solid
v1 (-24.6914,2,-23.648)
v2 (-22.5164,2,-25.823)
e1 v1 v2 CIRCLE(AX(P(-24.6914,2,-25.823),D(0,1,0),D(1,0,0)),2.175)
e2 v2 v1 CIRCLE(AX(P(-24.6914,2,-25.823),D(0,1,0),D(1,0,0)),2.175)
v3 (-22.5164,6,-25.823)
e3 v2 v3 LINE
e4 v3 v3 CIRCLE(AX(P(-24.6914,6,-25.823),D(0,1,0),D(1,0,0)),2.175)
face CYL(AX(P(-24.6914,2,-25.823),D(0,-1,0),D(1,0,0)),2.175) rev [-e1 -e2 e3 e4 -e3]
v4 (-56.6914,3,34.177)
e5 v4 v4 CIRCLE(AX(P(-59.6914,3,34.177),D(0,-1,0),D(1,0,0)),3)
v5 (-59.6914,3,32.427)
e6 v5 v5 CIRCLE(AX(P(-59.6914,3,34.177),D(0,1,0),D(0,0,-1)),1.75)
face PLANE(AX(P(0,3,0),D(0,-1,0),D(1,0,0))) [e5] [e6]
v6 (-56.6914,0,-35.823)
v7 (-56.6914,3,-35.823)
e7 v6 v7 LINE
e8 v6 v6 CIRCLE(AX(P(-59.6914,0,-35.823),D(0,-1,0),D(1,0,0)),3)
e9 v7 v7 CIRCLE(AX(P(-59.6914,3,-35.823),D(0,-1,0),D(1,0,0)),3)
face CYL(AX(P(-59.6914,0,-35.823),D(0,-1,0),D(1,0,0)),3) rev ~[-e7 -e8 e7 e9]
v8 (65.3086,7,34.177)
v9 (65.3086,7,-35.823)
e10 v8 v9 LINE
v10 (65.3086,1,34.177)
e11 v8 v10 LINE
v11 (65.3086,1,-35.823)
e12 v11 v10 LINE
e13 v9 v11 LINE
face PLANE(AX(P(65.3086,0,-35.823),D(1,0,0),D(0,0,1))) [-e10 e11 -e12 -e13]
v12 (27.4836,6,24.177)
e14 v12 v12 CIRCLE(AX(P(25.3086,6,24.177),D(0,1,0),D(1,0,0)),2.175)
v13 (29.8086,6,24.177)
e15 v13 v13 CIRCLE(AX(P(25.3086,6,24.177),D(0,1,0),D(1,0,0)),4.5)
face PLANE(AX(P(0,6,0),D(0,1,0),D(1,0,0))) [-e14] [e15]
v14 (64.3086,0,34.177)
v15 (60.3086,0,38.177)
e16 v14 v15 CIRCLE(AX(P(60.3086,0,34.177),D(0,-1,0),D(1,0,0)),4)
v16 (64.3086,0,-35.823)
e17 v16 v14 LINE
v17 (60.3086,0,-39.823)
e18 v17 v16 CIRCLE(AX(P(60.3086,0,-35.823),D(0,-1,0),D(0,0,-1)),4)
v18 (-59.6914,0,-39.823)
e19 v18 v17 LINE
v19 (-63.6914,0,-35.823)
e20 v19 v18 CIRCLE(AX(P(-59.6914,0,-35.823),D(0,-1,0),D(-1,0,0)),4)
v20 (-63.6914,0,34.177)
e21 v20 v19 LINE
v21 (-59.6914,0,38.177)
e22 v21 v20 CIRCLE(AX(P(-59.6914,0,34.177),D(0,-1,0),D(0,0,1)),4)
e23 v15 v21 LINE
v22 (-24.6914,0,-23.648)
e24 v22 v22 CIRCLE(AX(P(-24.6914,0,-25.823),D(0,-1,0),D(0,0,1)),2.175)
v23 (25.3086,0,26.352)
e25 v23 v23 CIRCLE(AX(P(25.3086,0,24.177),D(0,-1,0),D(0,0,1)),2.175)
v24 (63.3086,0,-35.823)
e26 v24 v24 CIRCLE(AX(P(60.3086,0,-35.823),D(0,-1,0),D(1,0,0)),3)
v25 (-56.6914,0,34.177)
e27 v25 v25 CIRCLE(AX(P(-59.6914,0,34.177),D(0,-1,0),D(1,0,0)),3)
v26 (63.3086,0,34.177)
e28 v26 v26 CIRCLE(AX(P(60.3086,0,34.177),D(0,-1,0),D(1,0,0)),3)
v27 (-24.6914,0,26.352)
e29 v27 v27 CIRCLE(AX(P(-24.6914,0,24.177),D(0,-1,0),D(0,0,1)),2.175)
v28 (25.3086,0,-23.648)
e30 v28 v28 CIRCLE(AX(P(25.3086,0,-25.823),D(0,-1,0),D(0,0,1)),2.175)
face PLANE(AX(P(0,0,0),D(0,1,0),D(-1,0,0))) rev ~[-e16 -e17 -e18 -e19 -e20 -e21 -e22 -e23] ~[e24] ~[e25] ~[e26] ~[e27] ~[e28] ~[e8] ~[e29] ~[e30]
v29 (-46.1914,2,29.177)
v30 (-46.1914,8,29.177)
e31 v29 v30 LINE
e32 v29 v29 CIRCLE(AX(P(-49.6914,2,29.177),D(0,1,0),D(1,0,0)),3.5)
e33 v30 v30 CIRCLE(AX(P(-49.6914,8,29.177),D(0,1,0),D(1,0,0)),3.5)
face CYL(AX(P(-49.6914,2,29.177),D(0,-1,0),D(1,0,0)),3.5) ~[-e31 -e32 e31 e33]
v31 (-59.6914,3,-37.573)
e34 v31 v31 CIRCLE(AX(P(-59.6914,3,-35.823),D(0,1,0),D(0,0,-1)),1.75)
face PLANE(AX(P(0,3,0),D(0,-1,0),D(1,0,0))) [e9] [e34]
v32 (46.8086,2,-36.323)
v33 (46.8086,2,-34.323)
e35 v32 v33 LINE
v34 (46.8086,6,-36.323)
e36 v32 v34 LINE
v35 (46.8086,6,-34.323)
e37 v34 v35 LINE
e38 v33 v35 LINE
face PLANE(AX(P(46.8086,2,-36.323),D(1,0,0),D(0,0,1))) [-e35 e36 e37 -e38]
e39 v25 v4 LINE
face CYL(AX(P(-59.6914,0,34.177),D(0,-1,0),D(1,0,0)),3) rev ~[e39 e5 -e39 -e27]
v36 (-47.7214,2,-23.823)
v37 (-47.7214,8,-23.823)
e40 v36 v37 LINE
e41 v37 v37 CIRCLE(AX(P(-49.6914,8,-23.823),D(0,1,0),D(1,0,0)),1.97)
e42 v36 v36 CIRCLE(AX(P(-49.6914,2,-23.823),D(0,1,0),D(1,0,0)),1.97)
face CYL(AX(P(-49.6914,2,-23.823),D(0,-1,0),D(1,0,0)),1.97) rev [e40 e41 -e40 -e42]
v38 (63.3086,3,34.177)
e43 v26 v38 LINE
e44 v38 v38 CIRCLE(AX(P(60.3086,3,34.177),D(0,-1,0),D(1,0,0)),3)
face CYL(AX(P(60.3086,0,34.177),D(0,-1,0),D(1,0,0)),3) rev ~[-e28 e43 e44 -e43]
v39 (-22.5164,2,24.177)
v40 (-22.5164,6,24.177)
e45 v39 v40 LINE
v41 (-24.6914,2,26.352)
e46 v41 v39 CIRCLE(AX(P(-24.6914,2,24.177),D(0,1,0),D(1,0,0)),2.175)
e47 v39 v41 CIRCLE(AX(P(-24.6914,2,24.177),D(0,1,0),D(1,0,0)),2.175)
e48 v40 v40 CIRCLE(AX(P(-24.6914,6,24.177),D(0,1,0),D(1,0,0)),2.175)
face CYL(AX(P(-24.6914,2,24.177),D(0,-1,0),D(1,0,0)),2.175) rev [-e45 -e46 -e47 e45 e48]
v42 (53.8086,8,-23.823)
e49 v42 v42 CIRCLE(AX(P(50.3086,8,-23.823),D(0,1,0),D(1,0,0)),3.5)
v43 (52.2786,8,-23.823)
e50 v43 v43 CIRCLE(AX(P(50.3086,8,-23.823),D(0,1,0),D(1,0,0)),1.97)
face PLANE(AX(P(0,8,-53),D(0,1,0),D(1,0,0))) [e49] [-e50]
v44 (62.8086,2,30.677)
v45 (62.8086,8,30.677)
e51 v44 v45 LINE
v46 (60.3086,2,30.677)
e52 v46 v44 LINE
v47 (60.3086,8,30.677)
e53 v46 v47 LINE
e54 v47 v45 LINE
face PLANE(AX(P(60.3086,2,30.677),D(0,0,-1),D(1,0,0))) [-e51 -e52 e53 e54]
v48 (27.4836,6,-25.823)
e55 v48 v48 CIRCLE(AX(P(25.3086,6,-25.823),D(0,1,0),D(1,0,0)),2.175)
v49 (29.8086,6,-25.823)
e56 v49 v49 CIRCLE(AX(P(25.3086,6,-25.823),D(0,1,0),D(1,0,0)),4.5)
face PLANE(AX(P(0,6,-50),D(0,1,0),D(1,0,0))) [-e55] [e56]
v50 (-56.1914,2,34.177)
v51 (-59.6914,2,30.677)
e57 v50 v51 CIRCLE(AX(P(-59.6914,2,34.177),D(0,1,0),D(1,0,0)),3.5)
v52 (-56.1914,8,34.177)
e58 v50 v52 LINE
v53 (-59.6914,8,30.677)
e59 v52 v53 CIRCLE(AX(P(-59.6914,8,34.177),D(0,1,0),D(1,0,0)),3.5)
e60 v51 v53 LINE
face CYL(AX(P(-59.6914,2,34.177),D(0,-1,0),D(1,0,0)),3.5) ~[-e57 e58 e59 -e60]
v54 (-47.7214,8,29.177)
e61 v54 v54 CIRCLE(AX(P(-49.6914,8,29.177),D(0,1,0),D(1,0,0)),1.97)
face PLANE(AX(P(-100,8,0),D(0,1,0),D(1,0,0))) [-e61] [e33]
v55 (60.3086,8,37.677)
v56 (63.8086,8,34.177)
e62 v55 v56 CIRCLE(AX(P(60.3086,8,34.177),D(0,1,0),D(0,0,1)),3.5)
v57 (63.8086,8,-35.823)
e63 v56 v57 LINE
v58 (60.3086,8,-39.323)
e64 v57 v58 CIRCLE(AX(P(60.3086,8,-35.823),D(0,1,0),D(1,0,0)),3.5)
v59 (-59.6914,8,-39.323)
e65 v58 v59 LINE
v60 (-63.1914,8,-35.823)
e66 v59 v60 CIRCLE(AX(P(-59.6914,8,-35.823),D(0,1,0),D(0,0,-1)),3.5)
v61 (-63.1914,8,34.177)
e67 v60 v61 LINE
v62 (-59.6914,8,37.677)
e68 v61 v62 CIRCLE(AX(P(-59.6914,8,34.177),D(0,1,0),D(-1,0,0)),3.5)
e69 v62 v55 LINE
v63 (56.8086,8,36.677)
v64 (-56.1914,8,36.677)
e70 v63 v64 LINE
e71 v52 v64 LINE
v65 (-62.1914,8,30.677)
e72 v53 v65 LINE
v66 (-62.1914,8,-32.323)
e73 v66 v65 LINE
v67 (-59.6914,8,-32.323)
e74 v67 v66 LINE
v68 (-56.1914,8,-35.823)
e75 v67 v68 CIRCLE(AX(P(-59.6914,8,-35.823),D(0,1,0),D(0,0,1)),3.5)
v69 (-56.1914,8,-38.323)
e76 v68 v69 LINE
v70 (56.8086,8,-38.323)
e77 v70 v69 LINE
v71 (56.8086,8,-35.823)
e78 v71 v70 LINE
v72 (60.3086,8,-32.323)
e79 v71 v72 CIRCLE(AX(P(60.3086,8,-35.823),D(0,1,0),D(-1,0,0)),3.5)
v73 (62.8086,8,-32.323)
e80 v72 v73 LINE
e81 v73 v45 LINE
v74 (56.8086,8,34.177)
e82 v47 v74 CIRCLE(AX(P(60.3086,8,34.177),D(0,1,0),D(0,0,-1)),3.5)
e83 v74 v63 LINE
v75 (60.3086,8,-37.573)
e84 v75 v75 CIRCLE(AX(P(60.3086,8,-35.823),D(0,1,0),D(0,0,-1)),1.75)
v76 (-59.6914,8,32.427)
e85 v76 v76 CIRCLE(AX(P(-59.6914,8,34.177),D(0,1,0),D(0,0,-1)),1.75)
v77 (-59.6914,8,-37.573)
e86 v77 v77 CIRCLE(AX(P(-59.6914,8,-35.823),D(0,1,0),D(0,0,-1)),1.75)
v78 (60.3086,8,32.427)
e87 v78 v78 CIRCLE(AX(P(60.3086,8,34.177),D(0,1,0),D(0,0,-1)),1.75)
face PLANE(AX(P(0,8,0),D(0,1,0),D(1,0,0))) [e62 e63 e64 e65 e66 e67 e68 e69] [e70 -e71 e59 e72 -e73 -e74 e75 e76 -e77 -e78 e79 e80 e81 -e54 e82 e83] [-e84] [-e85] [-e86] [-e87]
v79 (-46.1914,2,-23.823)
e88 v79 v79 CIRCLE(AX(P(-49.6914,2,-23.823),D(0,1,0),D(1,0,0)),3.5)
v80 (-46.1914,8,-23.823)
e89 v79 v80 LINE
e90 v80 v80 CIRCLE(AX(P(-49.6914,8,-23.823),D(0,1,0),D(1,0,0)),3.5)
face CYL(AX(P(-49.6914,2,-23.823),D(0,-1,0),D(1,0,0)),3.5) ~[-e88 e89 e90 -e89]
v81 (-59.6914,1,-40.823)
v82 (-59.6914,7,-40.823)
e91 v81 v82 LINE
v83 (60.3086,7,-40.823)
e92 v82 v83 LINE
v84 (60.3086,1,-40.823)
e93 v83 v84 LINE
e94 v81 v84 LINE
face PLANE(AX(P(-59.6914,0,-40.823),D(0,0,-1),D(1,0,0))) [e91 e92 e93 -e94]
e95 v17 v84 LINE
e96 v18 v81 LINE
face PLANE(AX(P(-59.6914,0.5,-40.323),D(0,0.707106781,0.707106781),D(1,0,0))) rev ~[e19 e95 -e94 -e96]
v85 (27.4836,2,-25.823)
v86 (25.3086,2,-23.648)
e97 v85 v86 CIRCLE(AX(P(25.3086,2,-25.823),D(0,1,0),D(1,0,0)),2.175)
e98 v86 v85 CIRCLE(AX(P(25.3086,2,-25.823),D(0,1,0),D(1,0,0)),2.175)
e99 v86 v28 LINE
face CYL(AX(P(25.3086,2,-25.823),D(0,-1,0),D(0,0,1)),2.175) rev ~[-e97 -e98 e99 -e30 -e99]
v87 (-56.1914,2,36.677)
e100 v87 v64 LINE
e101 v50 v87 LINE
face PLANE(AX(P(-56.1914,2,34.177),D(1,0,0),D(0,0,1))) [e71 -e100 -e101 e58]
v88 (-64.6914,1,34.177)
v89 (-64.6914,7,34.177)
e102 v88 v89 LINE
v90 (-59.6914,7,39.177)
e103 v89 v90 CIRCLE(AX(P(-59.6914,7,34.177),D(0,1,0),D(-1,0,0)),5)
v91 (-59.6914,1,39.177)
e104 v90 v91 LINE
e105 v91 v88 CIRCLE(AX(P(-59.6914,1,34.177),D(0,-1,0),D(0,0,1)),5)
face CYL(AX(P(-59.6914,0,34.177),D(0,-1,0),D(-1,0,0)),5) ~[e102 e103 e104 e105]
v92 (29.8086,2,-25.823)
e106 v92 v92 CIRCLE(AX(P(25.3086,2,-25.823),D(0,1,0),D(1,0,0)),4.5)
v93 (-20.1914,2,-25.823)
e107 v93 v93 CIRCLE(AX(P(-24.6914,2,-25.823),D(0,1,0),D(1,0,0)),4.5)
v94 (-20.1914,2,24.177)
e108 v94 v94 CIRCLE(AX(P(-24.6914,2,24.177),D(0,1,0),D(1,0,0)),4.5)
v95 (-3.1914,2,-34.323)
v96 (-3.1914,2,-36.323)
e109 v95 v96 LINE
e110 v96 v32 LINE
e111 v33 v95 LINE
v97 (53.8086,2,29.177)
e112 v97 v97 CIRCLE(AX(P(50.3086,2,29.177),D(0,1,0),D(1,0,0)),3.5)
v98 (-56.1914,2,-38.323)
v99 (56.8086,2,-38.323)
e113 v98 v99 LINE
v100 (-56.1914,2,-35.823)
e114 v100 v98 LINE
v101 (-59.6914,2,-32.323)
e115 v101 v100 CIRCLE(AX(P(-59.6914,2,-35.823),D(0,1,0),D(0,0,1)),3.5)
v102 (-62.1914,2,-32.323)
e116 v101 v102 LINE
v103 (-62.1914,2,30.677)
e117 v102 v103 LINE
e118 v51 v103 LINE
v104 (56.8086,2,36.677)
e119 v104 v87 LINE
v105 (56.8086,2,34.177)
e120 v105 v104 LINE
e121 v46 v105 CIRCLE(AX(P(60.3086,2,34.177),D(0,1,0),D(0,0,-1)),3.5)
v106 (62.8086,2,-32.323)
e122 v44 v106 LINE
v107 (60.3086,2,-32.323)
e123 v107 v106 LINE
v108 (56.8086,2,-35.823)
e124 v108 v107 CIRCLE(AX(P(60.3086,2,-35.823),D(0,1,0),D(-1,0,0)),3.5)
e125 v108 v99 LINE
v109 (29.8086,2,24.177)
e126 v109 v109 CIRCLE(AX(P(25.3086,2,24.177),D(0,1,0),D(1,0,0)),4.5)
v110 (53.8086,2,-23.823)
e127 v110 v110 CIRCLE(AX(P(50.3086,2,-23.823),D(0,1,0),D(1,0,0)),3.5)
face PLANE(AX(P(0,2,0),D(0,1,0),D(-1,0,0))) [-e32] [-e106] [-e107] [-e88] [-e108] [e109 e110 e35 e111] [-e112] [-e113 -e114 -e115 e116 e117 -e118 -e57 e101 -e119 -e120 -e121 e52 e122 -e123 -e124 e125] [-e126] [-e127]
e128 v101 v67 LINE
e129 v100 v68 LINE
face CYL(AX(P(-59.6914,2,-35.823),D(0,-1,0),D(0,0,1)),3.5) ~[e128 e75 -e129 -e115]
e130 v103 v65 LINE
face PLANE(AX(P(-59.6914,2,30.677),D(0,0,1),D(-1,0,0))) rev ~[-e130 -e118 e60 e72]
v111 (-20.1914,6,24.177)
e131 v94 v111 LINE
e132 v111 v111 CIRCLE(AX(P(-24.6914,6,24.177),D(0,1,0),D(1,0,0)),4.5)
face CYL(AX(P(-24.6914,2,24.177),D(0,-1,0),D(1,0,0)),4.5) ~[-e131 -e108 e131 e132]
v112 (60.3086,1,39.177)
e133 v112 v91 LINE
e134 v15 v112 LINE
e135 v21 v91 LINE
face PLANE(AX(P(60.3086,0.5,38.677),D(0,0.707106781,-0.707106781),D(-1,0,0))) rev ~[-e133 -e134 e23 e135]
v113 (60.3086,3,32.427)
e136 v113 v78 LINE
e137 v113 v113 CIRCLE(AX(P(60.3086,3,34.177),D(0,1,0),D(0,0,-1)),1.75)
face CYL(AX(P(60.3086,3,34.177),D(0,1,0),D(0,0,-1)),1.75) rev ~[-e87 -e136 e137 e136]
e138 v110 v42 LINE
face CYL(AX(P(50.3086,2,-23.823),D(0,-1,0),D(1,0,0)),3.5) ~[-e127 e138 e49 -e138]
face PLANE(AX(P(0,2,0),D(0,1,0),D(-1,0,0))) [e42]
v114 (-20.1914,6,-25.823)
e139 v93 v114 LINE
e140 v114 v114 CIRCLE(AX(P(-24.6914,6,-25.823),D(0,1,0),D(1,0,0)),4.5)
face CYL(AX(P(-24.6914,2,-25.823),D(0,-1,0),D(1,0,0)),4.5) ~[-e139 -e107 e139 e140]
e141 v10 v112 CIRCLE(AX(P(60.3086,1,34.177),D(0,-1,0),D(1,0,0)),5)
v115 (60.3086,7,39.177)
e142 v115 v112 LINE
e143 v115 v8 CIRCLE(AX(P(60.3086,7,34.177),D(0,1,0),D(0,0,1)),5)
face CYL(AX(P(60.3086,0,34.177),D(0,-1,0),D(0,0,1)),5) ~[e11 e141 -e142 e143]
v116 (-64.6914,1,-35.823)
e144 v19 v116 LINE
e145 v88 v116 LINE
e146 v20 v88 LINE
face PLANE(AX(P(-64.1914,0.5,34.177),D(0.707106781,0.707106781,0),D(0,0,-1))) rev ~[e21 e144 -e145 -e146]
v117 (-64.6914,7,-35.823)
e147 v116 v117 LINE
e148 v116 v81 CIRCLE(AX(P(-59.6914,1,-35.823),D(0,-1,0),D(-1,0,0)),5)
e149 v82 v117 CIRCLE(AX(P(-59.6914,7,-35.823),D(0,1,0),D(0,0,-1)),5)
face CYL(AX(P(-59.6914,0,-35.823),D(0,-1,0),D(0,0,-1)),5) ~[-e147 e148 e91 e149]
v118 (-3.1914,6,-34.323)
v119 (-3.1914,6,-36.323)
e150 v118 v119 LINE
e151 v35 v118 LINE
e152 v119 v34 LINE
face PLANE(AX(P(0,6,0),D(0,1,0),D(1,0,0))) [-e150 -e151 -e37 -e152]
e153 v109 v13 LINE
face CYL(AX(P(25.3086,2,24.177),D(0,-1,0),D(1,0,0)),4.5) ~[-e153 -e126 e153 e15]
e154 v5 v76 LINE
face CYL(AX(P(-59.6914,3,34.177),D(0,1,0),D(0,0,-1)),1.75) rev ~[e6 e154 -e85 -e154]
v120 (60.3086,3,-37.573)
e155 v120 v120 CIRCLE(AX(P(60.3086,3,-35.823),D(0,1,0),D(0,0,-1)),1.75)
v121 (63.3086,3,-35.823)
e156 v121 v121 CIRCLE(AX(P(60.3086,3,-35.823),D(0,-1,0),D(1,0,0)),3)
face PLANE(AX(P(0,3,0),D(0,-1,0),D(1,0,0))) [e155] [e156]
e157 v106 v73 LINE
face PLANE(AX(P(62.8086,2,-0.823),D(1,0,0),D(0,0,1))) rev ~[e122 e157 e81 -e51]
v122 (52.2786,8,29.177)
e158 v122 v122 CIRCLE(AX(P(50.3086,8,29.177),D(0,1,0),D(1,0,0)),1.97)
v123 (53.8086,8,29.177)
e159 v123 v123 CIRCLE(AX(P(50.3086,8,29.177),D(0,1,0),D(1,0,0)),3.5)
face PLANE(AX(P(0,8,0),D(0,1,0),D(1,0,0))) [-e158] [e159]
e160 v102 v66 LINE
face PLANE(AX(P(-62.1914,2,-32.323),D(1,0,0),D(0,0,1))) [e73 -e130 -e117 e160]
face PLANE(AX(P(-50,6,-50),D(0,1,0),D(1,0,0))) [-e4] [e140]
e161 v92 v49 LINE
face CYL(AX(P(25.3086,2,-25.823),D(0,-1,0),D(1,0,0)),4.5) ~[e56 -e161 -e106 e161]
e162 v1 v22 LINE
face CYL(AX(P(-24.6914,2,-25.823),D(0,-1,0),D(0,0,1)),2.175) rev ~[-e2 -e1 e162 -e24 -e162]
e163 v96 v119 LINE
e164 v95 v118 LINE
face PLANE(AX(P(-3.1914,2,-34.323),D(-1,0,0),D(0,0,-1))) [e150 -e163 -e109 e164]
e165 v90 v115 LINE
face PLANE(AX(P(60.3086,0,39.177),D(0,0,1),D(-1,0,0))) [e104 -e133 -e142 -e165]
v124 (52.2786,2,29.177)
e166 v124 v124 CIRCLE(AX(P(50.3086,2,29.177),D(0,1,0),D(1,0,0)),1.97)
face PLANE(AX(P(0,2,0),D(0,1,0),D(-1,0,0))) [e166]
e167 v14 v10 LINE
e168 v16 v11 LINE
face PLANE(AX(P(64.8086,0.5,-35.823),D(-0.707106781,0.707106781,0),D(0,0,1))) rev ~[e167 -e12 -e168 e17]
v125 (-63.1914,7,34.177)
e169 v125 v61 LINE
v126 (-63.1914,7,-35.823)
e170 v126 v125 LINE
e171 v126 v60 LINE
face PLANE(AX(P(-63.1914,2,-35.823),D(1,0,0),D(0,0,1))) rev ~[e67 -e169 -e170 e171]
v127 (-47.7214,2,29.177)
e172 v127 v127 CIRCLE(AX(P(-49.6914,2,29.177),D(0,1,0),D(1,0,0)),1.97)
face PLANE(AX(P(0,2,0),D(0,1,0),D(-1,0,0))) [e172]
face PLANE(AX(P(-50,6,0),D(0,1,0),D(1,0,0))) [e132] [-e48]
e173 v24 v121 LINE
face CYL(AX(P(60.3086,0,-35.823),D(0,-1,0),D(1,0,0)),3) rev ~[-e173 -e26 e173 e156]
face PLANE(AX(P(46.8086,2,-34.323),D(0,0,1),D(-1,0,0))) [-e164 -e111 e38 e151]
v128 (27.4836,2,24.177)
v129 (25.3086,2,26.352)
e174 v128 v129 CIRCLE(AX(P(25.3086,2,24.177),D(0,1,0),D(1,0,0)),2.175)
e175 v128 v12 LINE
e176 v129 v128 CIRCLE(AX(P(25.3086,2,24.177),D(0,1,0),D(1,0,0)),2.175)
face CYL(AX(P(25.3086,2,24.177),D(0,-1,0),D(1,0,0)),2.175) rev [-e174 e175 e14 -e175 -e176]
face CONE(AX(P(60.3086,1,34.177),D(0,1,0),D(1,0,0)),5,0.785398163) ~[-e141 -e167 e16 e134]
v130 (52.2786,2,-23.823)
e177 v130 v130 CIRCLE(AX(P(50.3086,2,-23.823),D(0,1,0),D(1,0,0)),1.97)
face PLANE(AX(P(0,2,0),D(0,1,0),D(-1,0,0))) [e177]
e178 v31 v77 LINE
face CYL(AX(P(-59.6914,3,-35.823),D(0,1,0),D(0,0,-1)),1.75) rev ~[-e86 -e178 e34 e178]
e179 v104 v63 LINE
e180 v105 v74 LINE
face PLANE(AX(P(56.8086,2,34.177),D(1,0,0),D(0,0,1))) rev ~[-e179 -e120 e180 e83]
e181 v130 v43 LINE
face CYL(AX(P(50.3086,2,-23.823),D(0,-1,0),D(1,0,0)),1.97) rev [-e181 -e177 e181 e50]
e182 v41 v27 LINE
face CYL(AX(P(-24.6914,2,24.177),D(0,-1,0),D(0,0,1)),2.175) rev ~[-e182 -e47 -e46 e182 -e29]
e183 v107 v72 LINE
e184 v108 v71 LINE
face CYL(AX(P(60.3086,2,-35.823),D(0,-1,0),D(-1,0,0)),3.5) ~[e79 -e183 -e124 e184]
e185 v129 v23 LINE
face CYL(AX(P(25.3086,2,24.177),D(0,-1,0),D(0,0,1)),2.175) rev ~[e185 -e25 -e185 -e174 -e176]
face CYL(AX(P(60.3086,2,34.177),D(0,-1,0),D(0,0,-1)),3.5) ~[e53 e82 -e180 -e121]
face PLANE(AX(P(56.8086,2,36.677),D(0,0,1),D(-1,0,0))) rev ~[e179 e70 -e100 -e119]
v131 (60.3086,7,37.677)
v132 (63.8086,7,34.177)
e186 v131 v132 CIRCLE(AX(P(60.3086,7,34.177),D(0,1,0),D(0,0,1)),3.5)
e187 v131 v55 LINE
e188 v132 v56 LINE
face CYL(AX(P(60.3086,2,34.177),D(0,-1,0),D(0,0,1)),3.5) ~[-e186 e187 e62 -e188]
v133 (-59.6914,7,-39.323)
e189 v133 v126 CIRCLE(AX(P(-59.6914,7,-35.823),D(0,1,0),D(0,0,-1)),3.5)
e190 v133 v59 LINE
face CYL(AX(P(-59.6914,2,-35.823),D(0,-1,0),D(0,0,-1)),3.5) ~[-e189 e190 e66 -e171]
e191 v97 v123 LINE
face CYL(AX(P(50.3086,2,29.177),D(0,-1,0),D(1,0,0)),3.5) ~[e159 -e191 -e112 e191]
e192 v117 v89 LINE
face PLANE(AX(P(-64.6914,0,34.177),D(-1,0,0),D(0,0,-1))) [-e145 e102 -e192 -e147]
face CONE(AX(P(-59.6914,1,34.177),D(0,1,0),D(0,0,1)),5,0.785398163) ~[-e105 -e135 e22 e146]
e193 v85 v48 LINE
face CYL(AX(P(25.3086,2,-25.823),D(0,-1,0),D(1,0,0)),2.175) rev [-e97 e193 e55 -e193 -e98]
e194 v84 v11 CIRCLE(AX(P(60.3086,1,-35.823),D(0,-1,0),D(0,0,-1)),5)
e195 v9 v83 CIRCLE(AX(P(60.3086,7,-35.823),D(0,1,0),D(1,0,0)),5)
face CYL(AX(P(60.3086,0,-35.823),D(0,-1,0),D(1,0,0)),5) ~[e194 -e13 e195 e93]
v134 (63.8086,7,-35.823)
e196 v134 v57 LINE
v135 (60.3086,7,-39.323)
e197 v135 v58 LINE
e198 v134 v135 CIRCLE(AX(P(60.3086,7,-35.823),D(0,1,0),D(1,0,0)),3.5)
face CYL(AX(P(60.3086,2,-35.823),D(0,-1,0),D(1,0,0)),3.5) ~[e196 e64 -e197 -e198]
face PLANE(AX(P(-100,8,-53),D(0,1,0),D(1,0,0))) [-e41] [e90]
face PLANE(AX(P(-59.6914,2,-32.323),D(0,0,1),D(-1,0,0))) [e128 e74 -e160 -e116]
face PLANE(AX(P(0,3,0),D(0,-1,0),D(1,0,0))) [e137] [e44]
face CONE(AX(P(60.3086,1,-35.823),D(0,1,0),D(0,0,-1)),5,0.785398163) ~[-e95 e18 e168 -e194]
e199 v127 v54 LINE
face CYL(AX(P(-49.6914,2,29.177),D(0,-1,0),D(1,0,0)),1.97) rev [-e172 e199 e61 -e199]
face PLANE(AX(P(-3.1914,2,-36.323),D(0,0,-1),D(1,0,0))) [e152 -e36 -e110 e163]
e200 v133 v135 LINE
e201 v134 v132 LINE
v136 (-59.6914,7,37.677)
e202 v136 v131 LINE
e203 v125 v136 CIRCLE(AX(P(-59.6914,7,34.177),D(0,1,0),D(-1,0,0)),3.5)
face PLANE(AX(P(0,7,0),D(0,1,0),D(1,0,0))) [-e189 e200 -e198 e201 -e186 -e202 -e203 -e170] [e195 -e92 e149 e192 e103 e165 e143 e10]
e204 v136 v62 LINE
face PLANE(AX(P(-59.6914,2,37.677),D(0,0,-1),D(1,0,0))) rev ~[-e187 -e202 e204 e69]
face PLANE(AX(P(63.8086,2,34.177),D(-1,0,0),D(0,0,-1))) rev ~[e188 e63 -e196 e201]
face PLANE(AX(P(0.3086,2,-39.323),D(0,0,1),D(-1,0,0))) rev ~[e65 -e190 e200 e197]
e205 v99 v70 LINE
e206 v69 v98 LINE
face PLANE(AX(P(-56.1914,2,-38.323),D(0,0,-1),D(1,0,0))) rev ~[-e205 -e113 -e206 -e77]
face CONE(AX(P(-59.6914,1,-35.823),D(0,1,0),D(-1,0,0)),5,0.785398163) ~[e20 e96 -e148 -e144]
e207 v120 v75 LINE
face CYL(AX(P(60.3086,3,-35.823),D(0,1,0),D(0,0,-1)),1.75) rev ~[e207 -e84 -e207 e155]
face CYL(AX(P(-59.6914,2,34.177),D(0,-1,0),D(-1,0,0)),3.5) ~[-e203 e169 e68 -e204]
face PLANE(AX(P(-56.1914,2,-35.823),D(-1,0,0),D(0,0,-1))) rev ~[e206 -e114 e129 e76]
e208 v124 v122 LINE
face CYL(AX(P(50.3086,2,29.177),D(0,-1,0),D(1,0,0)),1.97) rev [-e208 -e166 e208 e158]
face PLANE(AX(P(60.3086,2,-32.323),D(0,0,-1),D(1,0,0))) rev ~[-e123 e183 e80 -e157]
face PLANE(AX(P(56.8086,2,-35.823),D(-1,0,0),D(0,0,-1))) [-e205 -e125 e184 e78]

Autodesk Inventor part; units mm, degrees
ref_plane "YZ Plane" through (0, 0, 0) normal (1, 0, 0) x (0, 1, 0)
ref_plane "XZ Plane" through (0, 0, 0) normal (0, 1, 0) x (-1, 0, 0)
ref_plane "XY Plane" through (0, 0, 0) normal (0, 0, 1) x (1, 0, 0)
sketch "Sketch1" plane through (0, 0, 0) normal (0, 1, 0) x (-1, 0, 0)
  line L0 (59.6914, -40.823) -> (-60.3086, -40.823)
  line L1 (-65.3086, -35.823) -> (-65.3086, 34.177)
  line L2 (-60.3086, 39.177) -> (59.6914, 39.177)
  line L3 (64.6914, 34.177) -> (64.6914, -35.823)
  arc A0 (59.6914, -40.823) -> (64.6914, -35.823) centre (59.6914, -35.823) ccw
  arc A1 (-65.3086, -35.823) -> (-60.3086, -40.823) centre (-60.3086, -35.823) ccw
  arc A2 (64.6914, 34.177) -> (59.6914, 39.177) centre (59.6914, 34.177) ccw
  arc A3 (-60.3086, 39.177) -> (-65.3086, 34.177) centre (-60.3086, 34.177) ccw
  point P0 (0, 0)
  point P1 (64.6914, -40.823)
  point P2 (-65.3086, 39.177)
  point P3 (64.6914, 39.177)
  dimension "d0" = 80
  dimension "d1" = 130
  dimension "d2" = 5
  dimension "d3" = 5
  dimension "d4" = 5
  dimension "d5" = 5
extrude "Extrusion1" add sketch "Sketch1" along normal blind 2
sketch "Sketch2" plane through (0, 2, 0) normal (0, 1, 0) x (1, 0, 0)
  line L0 (-64.6914, 35.823) -> (-64.6914, -34.177) projected
  line L1 (-64.6914, 35.823) -> (-64.6914, -34.177)
  arc A0 (-64.6914, -34.177) -> (-59.6914, -39.177) centre (-59.6914, -34.177) ccw projected
  arc A1 (-64.6914, -34.177) -> (-59.6914, -39.177) centre (-59.6914, -34.177) ccw
  arc A2 (-59.6914, 40.823) -> (-64.6914, 35.823) centre (-59.6914, 35.823) ccw
  arc A3 (65.3086, 35.823) -> (60.3086, 40.823) centre (60.3086, 35.823) ccw projected
  arc A4 (65.3086, 35.823) -> (60.3086, 40.823) centre (60.3086, 35.823) ccw
  line L2 (-62.1914, 35.823) -> (-62.1914, -34.177)
  line L3 (65.3086, -34.177) -> (65.3086, 35.823) projected
  line L4 (65.3086, 35.823) -> (65.3086, -34.177)
  arc A5 (60.3086, -39.177) -> (65.3086, -34.177) centre (60.3086, -34.177) ccw projected
  line L5 (-59.6914, -39.177) -> (60.3086, -39.177) projected
  line L6 (60.3086, -39.177) -> (-59.6914, -39.177)
  line L7 (60.3086, 40.823) -> (-59.6914, 40.823) projected
  line L8 (-59.6914, 40.823) -> (60.3086, 40.823)
  line L9 (62.8086, 35.823) -> (62.8086, -34.177)
  line L10 (60.3086, -36.677) -> (-59.6914, -36.677)
  line L11 (-59.6914, 38.323) -> (60.3086, 38.323)
  arc A6 (-59.6914, 38.323) -> (-62.1914, 35.823) centre (-59.6914, 35.823) ccw
  arc A7 (62.8086, 35.823) -> (60.3086, 38.323) centre (60.3086, 35.823) ccw
  arc A8 (60.3086, -36.677) -> (62.8086, -34.177) centre (60.3086, -34.177) ccw
  arc A9 (-62.1914, -34.177) -> (-59.6914, -36.677) centre (-59.6914, -34.177) ccw
  arc A10 (-59.6914, 39.323) -> (-63.1914, 35.823) centre (-59.6914, 35.823) ccw
  arc A11 (63.8086, 35.823) -> (60.3086, 39.323) centre (60.3086, 35.823) ccw
  arc A12 (60.3086, -37.677) -> (63.8086, -34.177) centre (60.3086, -34.177) ccw
  arc A13 (-63.1914, -34.177) -> (-59.6914, -37.677) centre (-59.6914, -34.177) ccw
  line L12 (-63.1914, 35.823) -> (-63.1914, -34.177)
  line L13 (-59.6914, -37.677) -> (60.3086, -37.677)
  line L14 (63.8086, -34.177) -> (63.8086, 35.823)
  line L15 (60.3086, 39.323) -> (-59.6914, 39.323)
  line L16 (-59.6914, 32.323) -> (-62.1914, 32.323)
  line L17 (-56.1914, 35.823) -> (-56.1914, 38.323)
  arc A14 (-59.6914, 32.323) -> (-56.1914, 35.823) centre (-59.6914, 35.823) ccw
  line L18 (0.3086, 40.823) -> (0.3086, 33.323)
  line L19 (65.3086, 0.823) -> (44.6486, 0.823)
  line L20 (60.3086, 32.323) -> (62.8086, 32.323)
  line L21 (56.8086, 35.823) -> (56.8086, 38.323)
  arc A15 (56.8086, 35.823) -> (60.3086, 32.323) centre (60.3086, 35.823) ccw
  line L22 (-59.6914, -30.677) -> (-62.1914, -30.677)
  line L23 (-56.1914, -34.177) -> (-56.1914, -36.677)
  arc A16 (-56.1914, -34.177) -> (-59.6914, -30.677) centre (-59.6914, -34.177) ccw
  line L24 (56.8086, -34.177) -> (56.8086, -36.677)
  arc A17 (60.3086, -30.677) -> (56.8086, -34.177) centre (60.3086, -34.177) ccw
  line L25 (60.3086, -30.677) -> (62.8086, -30.677)
  point P0 (0, 0)
  point P1 (60.3086, -34.2192)
  point P2 (65.3086, -34.2192)
  point P3 (59.6599, -39.177)
  point P4 (56.8086, 38.323)
  point P5 (62.8086, -30.677)
  point P6 (56.8086, -36.677)
  point P7 (-56.1914, -36.677)
  point P8 (-62.1914, -30.677)
  dimension "d51" = 5
  dimension "d8" = 2.5
  dimension "d9" = 2.5
  dimension "d10" = 2.5
  dimension "d11" = 2.5
  dimension "d12" = 7
  dimension "d13" = 7
  dimension "d14" = 7
  dimension "d15" = 7
  dimension "d34" = 3.5
  dimension "d50" = 2.5
  dimension "d52" = 5
  dimension "d53" = 2.5
extrude "Extrusion2" add sketch "Sketch2" along normal blind 5 contours A2 L7 L18 L15 A10 L12 A13 L13 A12 L14 L19 L3 A5 L5 A0 L0 | L7 A3 L3 L19 L14 A11 L15 L18 | L17 A14 L16 L2 A6 L11 | L11 A7 L9 L20 A15 L21 | L9 A8 L10 L24 A17 L25 | L22 A16 L23 L10 A9 L2
extrude "Extrusion3" add sketch "Sketch2" along normal blind 6 contours L18 L11 A6 L2 A9 L10 A8 L9 L19 L14 A12 L13 A13 L12 A10 L15 | L15 A11 L14 L19 L9 A7 L11 L18 | L17 A14 L16 L2 A6 L11 | L11 A7 L9 L20 A15 L21 | L9 A8 L10 L24 A17 L25 | L22 A16 L23 L10 A9 L2
sketch "Sketch3" plane through (0, 0, 0) normal (0, -1, 0) x (1, 0, 0)
  circle A0 centre (60.3086, 34.177) radius 3
  line L0 (-59.6914, 39.177) -> (60.3086, 39.177) projected
  line L1 (65.3086, 34.177) -> (65.3086, -35.823) projected
  line L2 (65.3086, 24.0261) -> (65.3086, 17.2129)
  line L3 (38.477, 39.177) -> (29.3328, 39.177)
  line L4 (-59.6914, 39.177) -> (60.3086, 39.177) projected
  circle A1 centre (60.3086, -35.823) radius 3
  circle A2 centre (-59.6914, 34.177) radius 3
  circle A3 centre (-59.6914, -35.823) radius 3
  line L5 (-64.6914, -35.823) -> (-64.6914, 34.177) projected
  line L6 (60.3086, -40.823) -> (-59.6914, -40.823) projected
  point P0 (0, 0)
  point P1 (33.602, 39.1426)
  point P2 (55.3086, 34.177)
  point P3 (65.3086, -35.823)
  dimension "d20" = 6
  dimension "d21" = 5
  dimension "d26" = 70
  dimension "d29" = 120
  dimension "d54" = 130
  dimension "d55" = 80
  dimension "d56" = 5
extrude "Extrusion4" cut sketch "Sketch3" against normal blind 3
sketch "Sketch4" plane through (60.3086, 3, -35.823) normal (0, -1, 0) x (1, 0, 0)
  circle A0 centre (0, 0) radius 3 projected
  point P0 (-60.3086, 35.823)
hole "Hole1" at (60.3086, 3, -35.823) direction (0, 1, 0) diameter 3.5 end through all
pattern_linear "Rectangular Pattern1" count 2 spacing 120 along (-1, 0, 0) count 2 spacing 70 along (0, 0, 1) of "Hole1"
sketch "Sketch6" plane through (0, 2, 0) normal (0, 1, 0) x (1, 0, 0)
  circle A0 centre (50.3086, -29.177) radius 3.5
  line L0 (65.3086, -34.177) -> (65.3086, 35.823) projected
  line L1 (-59.6914, -39.177) -> (60.3086, -39.177) projected
  line L2 (65.3086, -34.177) -> (65.3086, 35.823) projected
  line L3 (65.3086, -6.9039) -> (65.3086, -1.4927)
  line L4 (16.8866, -39.177) -> (12.0352, -39.177)
  circle A1 centre (50.3086, -29.177) radius 1.97
  point P0 (0, 0)
  dimension "d57" = 7
  dimension "d58" = 15
  dimension "d59" = 10
  dimension "d60" = 3.94
extrude "Extrusion5" add sketch "Sketch6" along normal blind 6
pattern_linear "Rectangular Pattern2" count 2 spacing 53 along (0, 0, -1) count 2 spacing 100 along (-1, 0, 0) of "Extrusion5"
sketch "Sketch7" plane through (0, 2, 0) normal (0, 1, 0) x (1, 0, 0)
  circle A0 centre (25.3086, -24.177) radius 4.5
  line L0 (-59.6914, -39.177) -> (60.3086, -39.177) projected
  line L1 (65.3086, -34.177) -> (65.3086, 35.823) projected
  circle A1 centre (25.3086, -24.177) radius 2.175
  point P0 (0, 0)
  dimension "d69" = 9
  dimension "d70" = 15
  dimension "d71" = 40
  dimension "d72" = 4.35
extrude "Extrusion6" add sketch "Sketch7" along normal blind 4
sketch "Sketch8" plane through (25.3086, 2, 24.177) normal (0, 1, 0) x (1, 0, 0)
  circle A0 centre (0, 0) radius 2.175 projected
  point P0 (-25.3086, 24.177)
hole "Hole2" at (25.3086, 2, 24.177) direction (0, -1, 0) diameter 4.35 end through all
pattern_linear "Rectangular Pattern4" count 2 spacing 50 along (-1, 0, 0) count 2 spacing 50 along (0, 0, -1) of "Extrusion6", "Hole2"
chamfer "Chamfer1" distance 1 angle 45 8 edges at (0.3086, 0, 39.177) (63.8442, 0, 37.7125) (65.3086, 0, -0.823) (63.8442, 0, -39.3586) (0.3086, 0, -40.823) (-63.2269, 0, -39.3586) (-64.6914, 0, -0.823) (-63.2269, 0, 37.7125)
sketch "Sketch9" plane through (0, 2, 0) normal (0, 1, 0) x (1, 0, 0)
  line L0 (46.8086, 34.323) -> (-3.1914, 34.323)
  line L1 (-3.1914, 34.323) -> (-3.1914, 36.323)
  line L2 (-3.1914, 36.323) -> (46.8086, 36.323)
  line L3 (46.8086, 36.323) -> (46.8086, 34.323)
  line L4 (-56.1914, 38.323) -> (56.8086, 38.323) projected
  line L5 (56.8086, 38.323) -> (56.8086, 35.823) projected
  line L6 (-3.1914, 38.323) -> (46.8086, 38.323)
  line L7 (46.8086, 38.323) -> (46.8086, 37.323)
  line L8 (-3.1914, 37.323) -> (-3.1914, 38.323)
  point P0 (0, 0)
  point P1 (46.8086, 35.323)
  dimension "d97" = 50
  dimension "d98" = 2
  dimension "d99" = 2
  dimension "d100" = 10
  dimension "d103" = 50
extrude "Extrusion7" add sketch "Sketch9" along normal blind 4
equation "\"d3\" = d2"
equation "\"d4\" = d2"
equation "\"d5\" = d2"
equation "\"d9\" = d8"
equation "\"d10\" = d8"
equation "\"d11\" = d8"
equation "\"d52\" = d51"
equation "\"d53\" = d50"
equation "\"d103\" = d97"
properties part number "housing_bottom"
